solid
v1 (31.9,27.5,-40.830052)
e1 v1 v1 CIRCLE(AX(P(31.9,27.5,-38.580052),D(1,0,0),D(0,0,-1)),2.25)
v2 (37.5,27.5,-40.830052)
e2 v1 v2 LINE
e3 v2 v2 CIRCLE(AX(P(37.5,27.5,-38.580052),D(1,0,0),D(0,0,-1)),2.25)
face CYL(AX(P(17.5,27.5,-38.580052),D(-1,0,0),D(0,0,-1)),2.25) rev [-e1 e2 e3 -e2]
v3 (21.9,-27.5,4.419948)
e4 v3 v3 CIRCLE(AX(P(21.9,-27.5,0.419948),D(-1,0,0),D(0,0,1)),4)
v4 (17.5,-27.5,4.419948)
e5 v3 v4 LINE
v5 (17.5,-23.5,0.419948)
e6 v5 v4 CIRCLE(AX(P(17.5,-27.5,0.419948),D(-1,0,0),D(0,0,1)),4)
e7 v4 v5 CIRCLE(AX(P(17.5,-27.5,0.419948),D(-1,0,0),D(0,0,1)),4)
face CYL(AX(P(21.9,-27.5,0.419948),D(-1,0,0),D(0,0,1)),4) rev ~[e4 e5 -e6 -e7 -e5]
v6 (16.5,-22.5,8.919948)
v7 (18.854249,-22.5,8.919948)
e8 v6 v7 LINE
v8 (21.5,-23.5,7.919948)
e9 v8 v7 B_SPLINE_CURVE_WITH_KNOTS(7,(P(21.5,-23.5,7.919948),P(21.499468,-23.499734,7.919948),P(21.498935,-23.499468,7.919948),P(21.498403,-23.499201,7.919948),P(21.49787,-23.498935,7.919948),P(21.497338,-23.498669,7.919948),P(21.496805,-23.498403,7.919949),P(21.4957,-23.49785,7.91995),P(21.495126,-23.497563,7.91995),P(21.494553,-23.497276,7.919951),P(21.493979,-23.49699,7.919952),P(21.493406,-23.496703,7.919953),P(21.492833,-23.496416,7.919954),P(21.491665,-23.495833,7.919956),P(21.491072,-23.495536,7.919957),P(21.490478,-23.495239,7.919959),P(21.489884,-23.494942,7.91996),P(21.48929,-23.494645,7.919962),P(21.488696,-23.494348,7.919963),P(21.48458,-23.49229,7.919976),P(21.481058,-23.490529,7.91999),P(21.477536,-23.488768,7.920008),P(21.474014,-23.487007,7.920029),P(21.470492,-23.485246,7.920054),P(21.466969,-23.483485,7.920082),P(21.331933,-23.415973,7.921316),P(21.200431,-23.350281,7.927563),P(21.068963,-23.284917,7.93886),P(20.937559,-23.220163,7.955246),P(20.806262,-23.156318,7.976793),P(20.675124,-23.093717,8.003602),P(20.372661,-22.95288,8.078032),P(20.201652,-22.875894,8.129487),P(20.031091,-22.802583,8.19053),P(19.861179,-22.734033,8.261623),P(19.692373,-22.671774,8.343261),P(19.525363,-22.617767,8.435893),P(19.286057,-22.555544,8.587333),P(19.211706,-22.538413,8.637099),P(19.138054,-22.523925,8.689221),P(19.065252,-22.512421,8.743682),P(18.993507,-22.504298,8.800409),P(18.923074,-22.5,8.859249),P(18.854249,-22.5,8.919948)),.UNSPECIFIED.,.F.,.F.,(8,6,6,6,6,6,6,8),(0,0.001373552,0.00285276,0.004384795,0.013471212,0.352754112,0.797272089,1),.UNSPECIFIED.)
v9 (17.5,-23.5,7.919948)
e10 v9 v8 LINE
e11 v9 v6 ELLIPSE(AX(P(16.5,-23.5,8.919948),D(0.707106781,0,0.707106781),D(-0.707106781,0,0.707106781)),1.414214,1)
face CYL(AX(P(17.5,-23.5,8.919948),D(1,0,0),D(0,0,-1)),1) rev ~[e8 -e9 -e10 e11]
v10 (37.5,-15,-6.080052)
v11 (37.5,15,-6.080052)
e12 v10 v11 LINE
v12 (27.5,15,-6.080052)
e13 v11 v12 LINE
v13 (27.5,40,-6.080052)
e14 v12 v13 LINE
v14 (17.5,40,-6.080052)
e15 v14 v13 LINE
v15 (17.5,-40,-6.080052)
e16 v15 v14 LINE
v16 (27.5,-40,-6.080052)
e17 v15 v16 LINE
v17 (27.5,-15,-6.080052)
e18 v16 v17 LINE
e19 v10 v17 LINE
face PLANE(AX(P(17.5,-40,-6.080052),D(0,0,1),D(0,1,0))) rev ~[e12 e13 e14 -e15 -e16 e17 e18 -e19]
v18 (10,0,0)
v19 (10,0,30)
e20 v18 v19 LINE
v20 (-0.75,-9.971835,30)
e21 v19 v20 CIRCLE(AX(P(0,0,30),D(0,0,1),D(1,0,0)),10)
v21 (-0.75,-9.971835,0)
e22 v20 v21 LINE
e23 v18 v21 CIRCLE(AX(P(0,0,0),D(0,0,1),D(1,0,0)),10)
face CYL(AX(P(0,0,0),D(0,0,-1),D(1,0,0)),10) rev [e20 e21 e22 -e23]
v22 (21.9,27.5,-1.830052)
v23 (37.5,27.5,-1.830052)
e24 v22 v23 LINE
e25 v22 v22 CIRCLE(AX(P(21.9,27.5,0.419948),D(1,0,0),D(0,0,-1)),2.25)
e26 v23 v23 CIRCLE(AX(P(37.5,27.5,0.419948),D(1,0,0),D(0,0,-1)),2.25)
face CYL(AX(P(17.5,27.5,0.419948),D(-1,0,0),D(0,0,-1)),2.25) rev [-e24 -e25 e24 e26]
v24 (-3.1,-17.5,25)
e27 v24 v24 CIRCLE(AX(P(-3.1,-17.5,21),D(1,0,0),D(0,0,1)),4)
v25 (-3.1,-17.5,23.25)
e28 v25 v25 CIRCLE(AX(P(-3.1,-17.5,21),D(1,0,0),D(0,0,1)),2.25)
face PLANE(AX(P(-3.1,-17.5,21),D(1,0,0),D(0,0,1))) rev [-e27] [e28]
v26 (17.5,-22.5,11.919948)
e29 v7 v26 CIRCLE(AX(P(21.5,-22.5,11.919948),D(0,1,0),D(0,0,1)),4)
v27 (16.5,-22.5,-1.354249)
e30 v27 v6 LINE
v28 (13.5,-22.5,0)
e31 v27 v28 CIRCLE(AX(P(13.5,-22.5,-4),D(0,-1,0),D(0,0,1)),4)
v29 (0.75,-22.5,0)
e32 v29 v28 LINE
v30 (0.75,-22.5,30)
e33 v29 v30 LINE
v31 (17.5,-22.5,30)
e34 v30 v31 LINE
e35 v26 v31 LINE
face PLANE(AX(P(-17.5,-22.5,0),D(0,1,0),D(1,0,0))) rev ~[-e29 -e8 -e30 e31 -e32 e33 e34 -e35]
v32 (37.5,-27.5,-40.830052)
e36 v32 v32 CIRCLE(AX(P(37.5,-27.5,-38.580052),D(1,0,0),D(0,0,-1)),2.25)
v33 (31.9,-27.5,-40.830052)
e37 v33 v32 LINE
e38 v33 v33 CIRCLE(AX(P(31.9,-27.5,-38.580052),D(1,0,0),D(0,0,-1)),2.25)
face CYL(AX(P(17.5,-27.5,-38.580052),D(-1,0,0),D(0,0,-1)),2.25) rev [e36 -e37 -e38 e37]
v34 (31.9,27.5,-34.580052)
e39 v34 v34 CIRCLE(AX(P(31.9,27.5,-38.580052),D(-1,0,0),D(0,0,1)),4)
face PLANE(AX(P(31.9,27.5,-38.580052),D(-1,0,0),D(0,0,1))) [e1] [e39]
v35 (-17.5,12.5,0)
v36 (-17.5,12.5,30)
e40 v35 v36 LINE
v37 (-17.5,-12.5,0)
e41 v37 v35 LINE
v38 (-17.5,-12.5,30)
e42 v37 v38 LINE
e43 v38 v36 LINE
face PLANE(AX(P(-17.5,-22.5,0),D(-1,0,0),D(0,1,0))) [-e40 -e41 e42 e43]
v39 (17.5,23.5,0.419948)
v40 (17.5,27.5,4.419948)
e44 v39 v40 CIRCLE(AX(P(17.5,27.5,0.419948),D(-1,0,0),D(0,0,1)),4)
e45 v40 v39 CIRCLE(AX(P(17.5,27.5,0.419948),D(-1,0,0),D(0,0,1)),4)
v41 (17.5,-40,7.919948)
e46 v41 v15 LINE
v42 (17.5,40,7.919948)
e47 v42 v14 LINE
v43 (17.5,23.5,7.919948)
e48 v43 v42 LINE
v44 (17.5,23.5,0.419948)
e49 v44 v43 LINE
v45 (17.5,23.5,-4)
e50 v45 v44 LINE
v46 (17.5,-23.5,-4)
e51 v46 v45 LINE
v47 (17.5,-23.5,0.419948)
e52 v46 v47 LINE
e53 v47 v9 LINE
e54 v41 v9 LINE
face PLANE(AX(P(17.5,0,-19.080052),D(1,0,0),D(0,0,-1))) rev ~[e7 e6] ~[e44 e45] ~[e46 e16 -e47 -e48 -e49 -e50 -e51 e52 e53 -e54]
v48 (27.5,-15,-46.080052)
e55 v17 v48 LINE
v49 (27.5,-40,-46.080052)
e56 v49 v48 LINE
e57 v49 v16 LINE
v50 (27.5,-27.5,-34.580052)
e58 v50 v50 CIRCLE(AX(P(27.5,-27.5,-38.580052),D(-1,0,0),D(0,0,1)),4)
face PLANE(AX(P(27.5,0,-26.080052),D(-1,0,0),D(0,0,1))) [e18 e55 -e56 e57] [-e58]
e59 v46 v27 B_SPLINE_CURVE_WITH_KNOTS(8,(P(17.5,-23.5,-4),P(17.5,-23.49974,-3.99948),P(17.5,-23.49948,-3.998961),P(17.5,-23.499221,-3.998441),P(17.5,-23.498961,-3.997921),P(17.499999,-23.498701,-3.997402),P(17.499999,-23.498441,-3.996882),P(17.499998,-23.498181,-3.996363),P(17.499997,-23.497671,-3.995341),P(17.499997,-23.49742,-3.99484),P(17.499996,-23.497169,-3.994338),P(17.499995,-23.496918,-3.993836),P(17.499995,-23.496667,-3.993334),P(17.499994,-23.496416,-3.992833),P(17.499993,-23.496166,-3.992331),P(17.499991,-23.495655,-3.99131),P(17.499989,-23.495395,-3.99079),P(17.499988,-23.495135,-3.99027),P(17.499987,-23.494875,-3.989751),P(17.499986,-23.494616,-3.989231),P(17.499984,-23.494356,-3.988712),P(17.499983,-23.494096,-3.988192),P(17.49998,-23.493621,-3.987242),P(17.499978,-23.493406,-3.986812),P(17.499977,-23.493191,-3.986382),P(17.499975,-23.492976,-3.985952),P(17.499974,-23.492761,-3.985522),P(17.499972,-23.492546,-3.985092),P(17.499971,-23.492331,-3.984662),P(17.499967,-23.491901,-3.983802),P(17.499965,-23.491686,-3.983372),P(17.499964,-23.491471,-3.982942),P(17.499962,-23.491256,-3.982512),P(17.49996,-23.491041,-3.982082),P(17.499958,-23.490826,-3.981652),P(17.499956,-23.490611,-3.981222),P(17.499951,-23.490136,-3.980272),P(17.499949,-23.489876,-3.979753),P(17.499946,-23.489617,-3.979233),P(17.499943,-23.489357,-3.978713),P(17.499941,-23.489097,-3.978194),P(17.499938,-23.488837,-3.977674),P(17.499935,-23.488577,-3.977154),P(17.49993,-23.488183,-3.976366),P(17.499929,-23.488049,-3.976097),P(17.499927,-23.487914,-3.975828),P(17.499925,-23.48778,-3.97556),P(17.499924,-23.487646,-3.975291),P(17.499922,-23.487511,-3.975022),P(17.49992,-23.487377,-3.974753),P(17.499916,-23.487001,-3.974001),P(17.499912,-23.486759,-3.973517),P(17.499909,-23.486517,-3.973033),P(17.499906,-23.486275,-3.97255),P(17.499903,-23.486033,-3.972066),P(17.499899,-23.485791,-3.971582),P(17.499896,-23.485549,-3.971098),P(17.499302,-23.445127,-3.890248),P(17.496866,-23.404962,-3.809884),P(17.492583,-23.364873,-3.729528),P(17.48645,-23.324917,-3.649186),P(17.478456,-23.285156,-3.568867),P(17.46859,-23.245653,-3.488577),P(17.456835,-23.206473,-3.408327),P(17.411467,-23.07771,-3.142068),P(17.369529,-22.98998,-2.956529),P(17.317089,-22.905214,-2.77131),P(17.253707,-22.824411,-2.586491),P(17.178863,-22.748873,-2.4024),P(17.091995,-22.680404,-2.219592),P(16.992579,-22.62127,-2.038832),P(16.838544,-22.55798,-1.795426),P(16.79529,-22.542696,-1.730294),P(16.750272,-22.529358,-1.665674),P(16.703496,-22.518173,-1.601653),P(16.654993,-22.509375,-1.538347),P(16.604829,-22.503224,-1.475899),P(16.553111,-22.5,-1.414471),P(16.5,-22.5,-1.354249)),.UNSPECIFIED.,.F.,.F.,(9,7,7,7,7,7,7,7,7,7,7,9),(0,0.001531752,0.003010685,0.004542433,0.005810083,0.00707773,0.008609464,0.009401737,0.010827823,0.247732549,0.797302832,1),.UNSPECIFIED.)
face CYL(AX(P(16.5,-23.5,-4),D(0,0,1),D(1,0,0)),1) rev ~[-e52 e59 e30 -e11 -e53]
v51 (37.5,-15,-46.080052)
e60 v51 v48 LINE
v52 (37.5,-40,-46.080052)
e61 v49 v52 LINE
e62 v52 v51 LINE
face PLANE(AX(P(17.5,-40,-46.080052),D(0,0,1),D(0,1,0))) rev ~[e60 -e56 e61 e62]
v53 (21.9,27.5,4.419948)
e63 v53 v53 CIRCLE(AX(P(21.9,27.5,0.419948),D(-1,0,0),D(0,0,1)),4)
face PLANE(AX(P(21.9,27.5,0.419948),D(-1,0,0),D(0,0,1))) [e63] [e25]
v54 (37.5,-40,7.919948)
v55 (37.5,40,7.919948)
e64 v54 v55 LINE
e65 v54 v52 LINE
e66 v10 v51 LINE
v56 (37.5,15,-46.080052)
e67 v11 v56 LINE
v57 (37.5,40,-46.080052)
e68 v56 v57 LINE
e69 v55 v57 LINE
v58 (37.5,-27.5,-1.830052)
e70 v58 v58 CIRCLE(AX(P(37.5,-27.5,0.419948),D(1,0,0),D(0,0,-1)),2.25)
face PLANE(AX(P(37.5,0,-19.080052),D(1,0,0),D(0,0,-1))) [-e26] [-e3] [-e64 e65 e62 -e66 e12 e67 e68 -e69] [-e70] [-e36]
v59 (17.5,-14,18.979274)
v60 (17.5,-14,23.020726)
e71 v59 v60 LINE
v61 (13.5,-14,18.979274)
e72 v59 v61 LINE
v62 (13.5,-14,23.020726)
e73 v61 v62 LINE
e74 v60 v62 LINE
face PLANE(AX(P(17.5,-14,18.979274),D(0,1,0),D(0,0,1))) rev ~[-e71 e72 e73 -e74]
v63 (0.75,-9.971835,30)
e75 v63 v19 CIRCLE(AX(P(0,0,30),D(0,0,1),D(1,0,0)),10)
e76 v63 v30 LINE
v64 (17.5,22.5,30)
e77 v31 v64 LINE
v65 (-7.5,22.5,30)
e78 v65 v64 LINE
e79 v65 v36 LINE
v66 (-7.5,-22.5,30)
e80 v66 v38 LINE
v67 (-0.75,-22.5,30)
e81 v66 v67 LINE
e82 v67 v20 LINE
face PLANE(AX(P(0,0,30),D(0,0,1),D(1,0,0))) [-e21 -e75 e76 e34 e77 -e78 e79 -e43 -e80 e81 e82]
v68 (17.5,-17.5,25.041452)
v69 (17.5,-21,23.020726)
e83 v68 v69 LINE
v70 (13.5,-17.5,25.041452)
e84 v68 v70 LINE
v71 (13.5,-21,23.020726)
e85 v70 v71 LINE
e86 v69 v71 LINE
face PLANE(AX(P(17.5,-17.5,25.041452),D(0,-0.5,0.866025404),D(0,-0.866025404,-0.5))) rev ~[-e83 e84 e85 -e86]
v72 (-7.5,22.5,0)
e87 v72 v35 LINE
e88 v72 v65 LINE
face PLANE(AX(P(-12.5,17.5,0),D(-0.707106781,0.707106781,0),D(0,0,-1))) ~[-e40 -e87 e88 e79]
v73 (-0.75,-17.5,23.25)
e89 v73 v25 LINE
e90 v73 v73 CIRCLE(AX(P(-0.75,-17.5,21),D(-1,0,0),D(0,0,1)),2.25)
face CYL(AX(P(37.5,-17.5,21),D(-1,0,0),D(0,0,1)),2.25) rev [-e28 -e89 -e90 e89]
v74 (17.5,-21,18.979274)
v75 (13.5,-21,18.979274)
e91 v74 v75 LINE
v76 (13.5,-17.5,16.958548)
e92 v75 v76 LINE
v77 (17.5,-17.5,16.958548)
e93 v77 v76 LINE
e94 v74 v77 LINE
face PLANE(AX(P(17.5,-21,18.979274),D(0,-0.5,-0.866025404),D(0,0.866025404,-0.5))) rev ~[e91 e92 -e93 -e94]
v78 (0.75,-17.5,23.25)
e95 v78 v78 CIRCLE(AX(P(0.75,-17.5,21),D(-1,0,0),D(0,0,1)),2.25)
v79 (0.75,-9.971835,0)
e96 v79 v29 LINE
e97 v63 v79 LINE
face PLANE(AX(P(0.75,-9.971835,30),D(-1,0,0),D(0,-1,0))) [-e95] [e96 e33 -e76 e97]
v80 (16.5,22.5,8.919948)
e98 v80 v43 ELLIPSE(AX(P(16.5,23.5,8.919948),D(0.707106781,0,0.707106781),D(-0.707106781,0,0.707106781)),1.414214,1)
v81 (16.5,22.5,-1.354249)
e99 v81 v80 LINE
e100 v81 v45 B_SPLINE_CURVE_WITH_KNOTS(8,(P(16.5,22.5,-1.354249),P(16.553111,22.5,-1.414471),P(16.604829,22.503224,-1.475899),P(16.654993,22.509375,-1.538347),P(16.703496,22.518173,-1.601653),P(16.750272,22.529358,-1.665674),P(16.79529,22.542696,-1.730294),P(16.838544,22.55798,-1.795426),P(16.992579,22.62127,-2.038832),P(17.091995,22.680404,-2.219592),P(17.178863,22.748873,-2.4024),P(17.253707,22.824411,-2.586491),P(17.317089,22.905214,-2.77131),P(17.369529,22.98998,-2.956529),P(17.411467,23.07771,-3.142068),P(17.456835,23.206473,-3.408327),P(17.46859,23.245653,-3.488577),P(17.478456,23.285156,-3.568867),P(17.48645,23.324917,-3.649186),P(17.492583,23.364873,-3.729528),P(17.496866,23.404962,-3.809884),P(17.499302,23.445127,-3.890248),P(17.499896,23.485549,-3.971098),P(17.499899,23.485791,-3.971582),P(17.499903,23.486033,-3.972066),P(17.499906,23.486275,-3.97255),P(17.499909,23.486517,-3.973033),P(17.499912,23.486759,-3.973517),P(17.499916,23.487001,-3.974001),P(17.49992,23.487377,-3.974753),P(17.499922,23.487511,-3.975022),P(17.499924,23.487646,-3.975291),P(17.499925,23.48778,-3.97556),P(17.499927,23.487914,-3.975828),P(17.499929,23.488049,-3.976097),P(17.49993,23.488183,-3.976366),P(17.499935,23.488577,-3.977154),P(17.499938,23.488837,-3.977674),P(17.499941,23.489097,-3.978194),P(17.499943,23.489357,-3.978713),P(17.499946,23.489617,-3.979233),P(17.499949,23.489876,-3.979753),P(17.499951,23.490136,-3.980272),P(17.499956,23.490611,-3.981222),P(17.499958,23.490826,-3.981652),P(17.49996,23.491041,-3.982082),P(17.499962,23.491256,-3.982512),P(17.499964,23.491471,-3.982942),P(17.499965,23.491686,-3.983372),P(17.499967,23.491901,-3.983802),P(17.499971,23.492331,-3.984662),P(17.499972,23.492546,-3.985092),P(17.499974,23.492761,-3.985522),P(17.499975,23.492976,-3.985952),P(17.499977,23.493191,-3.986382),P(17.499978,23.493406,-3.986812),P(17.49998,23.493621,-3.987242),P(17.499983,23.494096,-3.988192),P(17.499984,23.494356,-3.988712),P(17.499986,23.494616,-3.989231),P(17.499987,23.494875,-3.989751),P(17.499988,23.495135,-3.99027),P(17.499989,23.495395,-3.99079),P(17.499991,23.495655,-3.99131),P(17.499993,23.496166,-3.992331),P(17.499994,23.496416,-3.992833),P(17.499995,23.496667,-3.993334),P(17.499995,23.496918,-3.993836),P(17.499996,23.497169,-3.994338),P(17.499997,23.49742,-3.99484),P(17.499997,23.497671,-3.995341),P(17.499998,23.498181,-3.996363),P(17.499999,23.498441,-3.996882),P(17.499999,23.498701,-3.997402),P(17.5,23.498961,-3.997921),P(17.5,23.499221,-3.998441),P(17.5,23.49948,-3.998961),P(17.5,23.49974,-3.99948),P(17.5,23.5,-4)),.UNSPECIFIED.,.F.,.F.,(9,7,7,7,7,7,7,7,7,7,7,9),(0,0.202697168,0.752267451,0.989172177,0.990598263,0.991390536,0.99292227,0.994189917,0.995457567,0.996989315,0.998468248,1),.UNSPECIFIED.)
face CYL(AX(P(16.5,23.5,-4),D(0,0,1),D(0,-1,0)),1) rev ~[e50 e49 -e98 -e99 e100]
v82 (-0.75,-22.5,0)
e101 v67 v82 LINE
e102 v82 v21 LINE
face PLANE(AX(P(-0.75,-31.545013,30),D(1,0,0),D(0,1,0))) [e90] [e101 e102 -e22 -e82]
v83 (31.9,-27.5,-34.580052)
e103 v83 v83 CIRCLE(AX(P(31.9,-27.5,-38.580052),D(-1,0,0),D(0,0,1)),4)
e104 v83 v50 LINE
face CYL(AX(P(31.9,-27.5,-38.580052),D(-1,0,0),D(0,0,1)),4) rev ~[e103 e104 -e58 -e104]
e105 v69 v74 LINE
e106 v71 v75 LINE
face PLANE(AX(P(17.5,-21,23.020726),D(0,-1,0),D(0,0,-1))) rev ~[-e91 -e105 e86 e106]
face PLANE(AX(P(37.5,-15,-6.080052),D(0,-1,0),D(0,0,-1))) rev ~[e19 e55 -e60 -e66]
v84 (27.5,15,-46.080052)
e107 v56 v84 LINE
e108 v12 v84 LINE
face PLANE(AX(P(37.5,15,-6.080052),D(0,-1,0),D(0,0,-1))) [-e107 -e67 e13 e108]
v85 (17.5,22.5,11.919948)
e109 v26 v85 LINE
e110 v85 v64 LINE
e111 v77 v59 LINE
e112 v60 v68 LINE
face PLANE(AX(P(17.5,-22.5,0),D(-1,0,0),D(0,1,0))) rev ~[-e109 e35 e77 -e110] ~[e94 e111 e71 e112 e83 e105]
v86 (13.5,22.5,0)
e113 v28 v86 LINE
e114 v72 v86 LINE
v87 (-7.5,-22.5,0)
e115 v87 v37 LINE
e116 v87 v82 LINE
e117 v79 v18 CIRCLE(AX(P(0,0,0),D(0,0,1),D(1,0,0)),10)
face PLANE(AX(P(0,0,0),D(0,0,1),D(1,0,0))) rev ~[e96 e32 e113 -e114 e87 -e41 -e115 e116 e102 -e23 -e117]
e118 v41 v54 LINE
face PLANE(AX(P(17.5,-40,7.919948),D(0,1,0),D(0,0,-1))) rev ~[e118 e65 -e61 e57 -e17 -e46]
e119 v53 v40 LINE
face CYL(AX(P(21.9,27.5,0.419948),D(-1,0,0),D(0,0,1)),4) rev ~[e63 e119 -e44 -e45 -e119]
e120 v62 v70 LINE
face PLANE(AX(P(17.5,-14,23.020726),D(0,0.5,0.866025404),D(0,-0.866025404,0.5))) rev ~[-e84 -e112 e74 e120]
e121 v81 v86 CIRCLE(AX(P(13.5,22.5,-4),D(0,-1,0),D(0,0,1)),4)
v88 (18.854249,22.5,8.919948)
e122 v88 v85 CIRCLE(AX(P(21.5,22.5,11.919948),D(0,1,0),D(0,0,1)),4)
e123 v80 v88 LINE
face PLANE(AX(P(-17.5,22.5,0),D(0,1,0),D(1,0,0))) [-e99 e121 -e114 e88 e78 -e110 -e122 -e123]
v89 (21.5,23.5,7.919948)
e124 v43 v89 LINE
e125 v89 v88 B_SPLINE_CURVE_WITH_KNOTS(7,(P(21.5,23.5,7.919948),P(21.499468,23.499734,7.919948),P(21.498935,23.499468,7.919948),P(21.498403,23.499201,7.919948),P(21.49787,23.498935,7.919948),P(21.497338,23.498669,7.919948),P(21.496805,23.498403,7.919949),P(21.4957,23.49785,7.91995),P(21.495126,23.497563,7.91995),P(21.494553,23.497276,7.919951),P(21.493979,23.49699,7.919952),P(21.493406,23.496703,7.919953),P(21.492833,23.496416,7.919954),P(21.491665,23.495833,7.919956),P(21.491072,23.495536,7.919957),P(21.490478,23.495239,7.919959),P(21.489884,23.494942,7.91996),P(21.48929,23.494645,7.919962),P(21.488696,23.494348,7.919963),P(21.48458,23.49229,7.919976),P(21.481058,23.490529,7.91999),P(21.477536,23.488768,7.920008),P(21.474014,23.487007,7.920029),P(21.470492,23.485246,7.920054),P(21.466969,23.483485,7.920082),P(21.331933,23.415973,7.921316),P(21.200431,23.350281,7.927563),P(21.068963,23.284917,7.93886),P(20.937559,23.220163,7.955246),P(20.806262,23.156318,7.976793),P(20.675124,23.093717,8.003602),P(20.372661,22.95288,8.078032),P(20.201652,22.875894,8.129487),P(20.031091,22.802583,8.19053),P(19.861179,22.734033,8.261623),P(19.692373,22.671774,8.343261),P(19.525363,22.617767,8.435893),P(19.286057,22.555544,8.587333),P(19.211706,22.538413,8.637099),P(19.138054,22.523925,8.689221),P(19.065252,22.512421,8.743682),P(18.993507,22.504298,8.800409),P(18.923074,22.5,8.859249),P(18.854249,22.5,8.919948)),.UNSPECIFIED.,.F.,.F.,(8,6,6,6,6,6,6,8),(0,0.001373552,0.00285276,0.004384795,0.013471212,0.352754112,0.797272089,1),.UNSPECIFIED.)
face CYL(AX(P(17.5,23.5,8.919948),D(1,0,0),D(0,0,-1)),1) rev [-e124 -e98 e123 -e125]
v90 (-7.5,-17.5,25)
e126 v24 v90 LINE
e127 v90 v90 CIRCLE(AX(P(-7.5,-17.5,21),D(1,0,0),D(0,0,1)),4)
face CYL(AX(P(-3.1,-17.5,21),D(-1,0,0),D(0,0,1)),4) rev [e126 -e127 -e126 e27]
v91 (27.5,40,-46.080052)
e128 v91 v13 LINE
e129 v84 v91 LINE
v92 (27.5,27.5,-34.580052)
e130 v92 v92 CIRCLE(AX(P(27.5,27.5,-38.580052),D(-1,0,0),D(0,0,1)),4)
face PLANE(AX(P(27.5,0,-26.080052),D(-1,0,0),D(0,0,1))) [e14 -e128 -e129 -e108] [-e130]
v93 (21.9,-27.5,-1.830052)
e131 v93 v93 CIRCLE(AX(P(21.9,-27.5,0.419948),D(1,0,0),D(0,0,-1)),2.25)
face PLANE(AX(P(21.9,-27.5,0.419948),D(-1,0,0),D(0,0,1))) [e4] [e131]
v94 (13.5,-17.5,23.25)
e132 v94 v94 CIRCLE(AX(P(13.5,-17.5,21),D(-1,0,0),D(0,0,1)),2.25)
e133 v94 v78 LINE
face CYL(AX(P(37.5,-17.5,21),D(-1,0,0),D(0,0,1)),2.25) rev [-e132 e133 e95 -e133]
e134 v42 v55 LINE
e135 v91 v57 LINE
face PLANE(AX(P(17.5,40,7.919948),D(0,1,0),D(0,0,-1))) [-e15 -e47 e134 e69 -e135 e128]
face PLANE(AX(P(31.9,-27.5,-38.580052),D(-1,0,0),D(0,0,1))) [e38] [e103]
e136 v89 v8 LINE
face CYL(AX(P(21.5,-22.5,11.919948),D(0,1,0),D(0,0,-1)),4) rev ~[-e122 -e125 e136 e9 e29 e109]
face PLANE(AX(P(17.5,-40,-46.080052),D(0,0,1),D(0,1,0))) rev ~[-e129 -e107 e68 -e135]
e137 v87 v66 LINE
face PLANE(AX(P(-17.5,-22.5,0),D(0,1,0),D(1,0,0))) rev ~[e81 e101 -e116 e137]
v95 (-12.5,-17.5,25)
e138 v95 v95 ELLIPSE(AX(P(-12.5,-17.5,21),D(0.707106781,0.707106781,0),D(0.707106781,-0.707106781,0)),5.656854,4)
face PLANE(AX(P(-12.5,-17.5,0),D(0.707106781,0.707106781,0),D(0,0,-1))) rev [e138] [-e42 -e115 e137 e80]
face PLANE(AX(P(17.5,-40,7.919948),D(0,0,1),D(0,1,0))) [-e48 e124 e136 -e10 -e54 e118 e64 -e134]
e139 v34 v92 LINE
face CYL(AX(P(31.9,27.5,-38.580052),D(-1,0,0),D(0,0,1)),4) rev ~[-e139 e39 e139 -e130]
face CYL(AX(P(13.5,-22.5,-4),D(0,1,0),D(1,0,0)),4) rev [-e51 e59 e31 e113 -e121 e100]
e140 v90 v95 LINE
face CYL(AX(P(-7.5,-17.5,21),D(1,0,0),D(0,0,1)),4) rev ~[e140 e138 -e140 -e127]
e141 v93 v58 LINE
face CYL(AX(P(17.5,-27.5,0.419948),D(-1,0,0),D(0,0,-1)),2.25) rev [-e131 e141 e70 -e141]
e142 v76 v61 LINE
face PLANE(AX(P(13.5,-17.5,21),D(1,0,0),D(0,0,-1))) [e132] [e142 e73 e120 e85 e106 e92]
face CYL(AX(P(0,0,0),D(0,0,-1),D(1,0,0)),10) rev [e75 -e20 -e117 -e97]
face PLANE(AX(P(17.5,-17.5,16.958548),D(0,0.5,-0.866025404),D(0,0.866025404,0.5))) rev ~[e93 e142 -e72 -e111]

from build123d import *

# Parameters (mm, degrees)
SKETCH1_W                                         = 35
SKETCH1_H                                         = 45
SKETCH1_R                                         = 10
BOSS_EXTRUDE1_DEPTH                               = 30
SKETCH2_W                                         = 54
SKETCH2_H                                         = 80
SKETCH2_R                                         = 2.25
BOSS_EXTRUDE2_DEPTH                               = 20
SKETCH3_W                                         = 40
SKETCH3_H                                         = 80
CUT_EXTRUDE1_DEPTH                                = 10
SKETCH5_W                                         = 40
SKETCH5_H                                         = 30
CUT_EXTRUDE2_DEPTH                                = 10
FILLET1_R                                         = 4
FILLET2_R                                         = 1
CHAMFER1_SIZE                                     = 10
CUT_EXTRUDE3_DEPTH                                = 4
SKETCH11_R                                        = 4
CUT_EXTRUDE4_DEPTH                                = 76.818013919
CUT_EXTRUDE5_DEPTH                                = 94.778592345
CHAMBRAGE_POUR_VIS_SIX_PANS_CREUX_M42_D           = 4.5
CHAMBRAGE_POUR_VIS_SIX_PANS_CREUX_M42_CBORE_D     = 8
CHAMBRAGE_POUR_VIS_SIX_PANS_CREUX_M42_CBORE_DEPTH = 4.4
CHAMBRAGE_POUR_VIS_SIX_PANS_CREUX_M43_D           = 4.5
CHAMBRAGE_POUR_VIS_SIX_PANS_CREUX_M43_CBORE_D     = 8
CHAMBRAGE_POUR_VIS_SIX_PANS_CREUX_M43_CBORE_DEPTH = 4.4


with BuildPart() as part:
    # Sketch1 → Boss-Extrude1 (new body)
    with BuildSketch(Plane.XY):
        Rectangle(SKETCH1_W, SKETCH1_H)
        Circle(SKETCH1_R, mode=Mode.SUBTRACT)
    extrude(amount=BOSS_EXTRUDE1_DEPTH)

    # Sketch2 → Boss-Extrude2 (add)
    with BuildSketch(Plane(origin=(17.5, 0, 0), x_dir=(0, 0, -1), z_dir=(1, 0, 0))):
        with Locations((19.080052459, 0)):
            Rectangle(SKETCH2_W, SKETCH2_H)
        with Locations((-0.419947541, 27.5)):
            Circle(SKETCH2_R, mode=Mode.SUBTRACT)
        with Locations((38.580052459, 27.5)):
            Circle(SKETCH2_R, mode=Mode.SUBTRACT)
        with Locations((38.580052459, -27.5)):
            Circle(SKETCH2_R, mode=Mode.SUBTRACT)
        with Locations((-0.419947541, -27.5)):
            Circle(SKETCH2_R, mode=Mode.SUBTRACT)
    extrude(amount=BOSS_EXTRUDE2_DEPTH)

    # Sketch3 → Cut-Extrude1 (cut)
    with BuildSketch(Plane.ZY.offset(-17.5)):
        with Locations((-26.080052459, 0)):
            Rectangle(SKETCH3_W, SKETCH3_H)
    extrude(amount=-CUT_EXTRUDE1_DEPTH, mode=Mode.SUBTRACT)

    # Sketch5 → Cut-Extrude2 (cut)
    with BuildSketch(Plane(origin=(37.5, 0, 0), x_dir=(0, 0, -1), z_dir=(1, 0, 0))):
        with Locations((26.080052459, 0)):
            Rectangle(SKETCH5_W, SKETCH5_H)
    extrude(amount=-CUT_EXTRUDE2_DEPTH, mode=Mode.SUBTRACT)

    # Fillet1
    fillet1_edges = [part.edges().sort_by_distance(p)[0] for p in [
        (17.5, 0, 7.919947541),
        (17.5, 0, 0),
    ]]
    fillet(fillet1_edges, radius=FILLET1_R)

    # Fillet2
    fillet2_edges = [part.edges().sort_by_distance(p)[0] for p in [
        (17.5, 22.5, 1.95997377),
        (17.5, -22.5, 1.95997377),
        (19.5, 22.5, 7.919947541),
        (19.5, -22.5, 7.919947541),
    ]]
    fillet(fillet2_edges, radius=FILLET2_R)

    # Chamfer1
    chamfer1_edges = [part.edges().sort_by_distance(p)[0] for p in [
        (-17.5, 22.5, 15),
        (-17.5, -22.5, 15),
    ]]
    chamfer(chamfer1_edges, length=CHAMFER1_SIZE)

    # Sketch6 → Cut-Extrude3 (cut)
    with BuildSketch(Plane(origin=(17.5, 0, 0), x_dir=(0, 0, -1), z_dir=(1, 0, 0))):
        Polygon((-18.979274058, -21), (-16.958548116, -17.5), (-18.979274058, -14), (-23.020725942, -14), (-25.041451884, -17.5), (-23.020725942, -21), align=None)
    extrude(amount=-CUT_EXTRUDE3_DEPTH, mode=Mode.SUBTRACT)

    # Sketch10 → Chambrage pour vis à six pans creux M41 (revolve, cut)
    with BuildSketch(Plane(origin=(-7.5, -17.5, 21), x_dir=(0, 0, 1), z_dir=(0, 1, 0))):
        Polygon((0, 0), (0, 45), (2.25, 45), (2.25, 4.4), (4, 4.4), (4, 0), align=None)
    revolve(axis=Axis((-13.85, -17.5, 21), (1, 0, 0)), mode=Mode.SUBTRACT)

    # Sketch11 → Cut-Extrude4 (cut, through all)
    with BuildSketch(Plane(origin=(-7.5, 0, 0), x_dir=(0, 0, -1), z_dir=(1, 0, 0))):
        with Locations(Location((-21, -17.5, 0), (0, 0, 180))):
            Circle(SKETCH11_R)
    extrude(amount=-CUT_EXTRUDE4_DEPTH, mode=Mode.SUBTRACT)

    # Sketch12 → Cut-Extrude5 (cut, through all)
    with BuildSketch(Plane.XY.offset(30)):
        with BuildLine():
            Line((0.75, -9.971835338), (0.75, -31.545013405))
            Line((0.75, -31.545013405), (-0.75, -31.545013405))
            Line((-0.75, -31.545013405), (-0.75, -9.971835338))
            ThreePointArc((-0.75, -9.971835338), (0, -10), (0.75, -9.971835338))
        make_face()
    extrude(amount=-CUT_EXTRUDE5_DEPTH, mode=Mode.SUBTRACT)

    # Chambrage pour vis à six pans creux M42 (through all)
    with Locations(Plane.ZY.offset(-17.5)):
        with Locations((0.419947541, -27.5), (0.419947541, 27.5)):
            CounterBoreHole(CHAMBRAGE_POUR_VIS_SIX_PANS_CREUX_M42_D / 2, CHAMBRAGE_POUR_VIS_SIX_PANS_CREUX_M42_CBORE_D / 2, CHAMBRAGE_POUR_VIS_SIX_PANS_CREUX_M42_CBORE_DEPTH)

    # Chambrage pour vis à six pans creux M43 (through all)
    with Locations(Plane.ZY.offset(-27.5)):
        with Locations((-38.580052459, 27.5), (-38.580052459, -27.5)):
            CounterBoreHole(CHAMBRAGE_POUR_VIS_SIX_PANS_CREUX_M43_D / 2, CHAMBRAGE_POUR_VIS_SIX_PANS_CREUX_M43_CBORE_D / 2, CHAMBRAGE_POUR_VIS_SIX_PANS_CREUX_M43_CBORE_DEPTH)


solid = part.part
